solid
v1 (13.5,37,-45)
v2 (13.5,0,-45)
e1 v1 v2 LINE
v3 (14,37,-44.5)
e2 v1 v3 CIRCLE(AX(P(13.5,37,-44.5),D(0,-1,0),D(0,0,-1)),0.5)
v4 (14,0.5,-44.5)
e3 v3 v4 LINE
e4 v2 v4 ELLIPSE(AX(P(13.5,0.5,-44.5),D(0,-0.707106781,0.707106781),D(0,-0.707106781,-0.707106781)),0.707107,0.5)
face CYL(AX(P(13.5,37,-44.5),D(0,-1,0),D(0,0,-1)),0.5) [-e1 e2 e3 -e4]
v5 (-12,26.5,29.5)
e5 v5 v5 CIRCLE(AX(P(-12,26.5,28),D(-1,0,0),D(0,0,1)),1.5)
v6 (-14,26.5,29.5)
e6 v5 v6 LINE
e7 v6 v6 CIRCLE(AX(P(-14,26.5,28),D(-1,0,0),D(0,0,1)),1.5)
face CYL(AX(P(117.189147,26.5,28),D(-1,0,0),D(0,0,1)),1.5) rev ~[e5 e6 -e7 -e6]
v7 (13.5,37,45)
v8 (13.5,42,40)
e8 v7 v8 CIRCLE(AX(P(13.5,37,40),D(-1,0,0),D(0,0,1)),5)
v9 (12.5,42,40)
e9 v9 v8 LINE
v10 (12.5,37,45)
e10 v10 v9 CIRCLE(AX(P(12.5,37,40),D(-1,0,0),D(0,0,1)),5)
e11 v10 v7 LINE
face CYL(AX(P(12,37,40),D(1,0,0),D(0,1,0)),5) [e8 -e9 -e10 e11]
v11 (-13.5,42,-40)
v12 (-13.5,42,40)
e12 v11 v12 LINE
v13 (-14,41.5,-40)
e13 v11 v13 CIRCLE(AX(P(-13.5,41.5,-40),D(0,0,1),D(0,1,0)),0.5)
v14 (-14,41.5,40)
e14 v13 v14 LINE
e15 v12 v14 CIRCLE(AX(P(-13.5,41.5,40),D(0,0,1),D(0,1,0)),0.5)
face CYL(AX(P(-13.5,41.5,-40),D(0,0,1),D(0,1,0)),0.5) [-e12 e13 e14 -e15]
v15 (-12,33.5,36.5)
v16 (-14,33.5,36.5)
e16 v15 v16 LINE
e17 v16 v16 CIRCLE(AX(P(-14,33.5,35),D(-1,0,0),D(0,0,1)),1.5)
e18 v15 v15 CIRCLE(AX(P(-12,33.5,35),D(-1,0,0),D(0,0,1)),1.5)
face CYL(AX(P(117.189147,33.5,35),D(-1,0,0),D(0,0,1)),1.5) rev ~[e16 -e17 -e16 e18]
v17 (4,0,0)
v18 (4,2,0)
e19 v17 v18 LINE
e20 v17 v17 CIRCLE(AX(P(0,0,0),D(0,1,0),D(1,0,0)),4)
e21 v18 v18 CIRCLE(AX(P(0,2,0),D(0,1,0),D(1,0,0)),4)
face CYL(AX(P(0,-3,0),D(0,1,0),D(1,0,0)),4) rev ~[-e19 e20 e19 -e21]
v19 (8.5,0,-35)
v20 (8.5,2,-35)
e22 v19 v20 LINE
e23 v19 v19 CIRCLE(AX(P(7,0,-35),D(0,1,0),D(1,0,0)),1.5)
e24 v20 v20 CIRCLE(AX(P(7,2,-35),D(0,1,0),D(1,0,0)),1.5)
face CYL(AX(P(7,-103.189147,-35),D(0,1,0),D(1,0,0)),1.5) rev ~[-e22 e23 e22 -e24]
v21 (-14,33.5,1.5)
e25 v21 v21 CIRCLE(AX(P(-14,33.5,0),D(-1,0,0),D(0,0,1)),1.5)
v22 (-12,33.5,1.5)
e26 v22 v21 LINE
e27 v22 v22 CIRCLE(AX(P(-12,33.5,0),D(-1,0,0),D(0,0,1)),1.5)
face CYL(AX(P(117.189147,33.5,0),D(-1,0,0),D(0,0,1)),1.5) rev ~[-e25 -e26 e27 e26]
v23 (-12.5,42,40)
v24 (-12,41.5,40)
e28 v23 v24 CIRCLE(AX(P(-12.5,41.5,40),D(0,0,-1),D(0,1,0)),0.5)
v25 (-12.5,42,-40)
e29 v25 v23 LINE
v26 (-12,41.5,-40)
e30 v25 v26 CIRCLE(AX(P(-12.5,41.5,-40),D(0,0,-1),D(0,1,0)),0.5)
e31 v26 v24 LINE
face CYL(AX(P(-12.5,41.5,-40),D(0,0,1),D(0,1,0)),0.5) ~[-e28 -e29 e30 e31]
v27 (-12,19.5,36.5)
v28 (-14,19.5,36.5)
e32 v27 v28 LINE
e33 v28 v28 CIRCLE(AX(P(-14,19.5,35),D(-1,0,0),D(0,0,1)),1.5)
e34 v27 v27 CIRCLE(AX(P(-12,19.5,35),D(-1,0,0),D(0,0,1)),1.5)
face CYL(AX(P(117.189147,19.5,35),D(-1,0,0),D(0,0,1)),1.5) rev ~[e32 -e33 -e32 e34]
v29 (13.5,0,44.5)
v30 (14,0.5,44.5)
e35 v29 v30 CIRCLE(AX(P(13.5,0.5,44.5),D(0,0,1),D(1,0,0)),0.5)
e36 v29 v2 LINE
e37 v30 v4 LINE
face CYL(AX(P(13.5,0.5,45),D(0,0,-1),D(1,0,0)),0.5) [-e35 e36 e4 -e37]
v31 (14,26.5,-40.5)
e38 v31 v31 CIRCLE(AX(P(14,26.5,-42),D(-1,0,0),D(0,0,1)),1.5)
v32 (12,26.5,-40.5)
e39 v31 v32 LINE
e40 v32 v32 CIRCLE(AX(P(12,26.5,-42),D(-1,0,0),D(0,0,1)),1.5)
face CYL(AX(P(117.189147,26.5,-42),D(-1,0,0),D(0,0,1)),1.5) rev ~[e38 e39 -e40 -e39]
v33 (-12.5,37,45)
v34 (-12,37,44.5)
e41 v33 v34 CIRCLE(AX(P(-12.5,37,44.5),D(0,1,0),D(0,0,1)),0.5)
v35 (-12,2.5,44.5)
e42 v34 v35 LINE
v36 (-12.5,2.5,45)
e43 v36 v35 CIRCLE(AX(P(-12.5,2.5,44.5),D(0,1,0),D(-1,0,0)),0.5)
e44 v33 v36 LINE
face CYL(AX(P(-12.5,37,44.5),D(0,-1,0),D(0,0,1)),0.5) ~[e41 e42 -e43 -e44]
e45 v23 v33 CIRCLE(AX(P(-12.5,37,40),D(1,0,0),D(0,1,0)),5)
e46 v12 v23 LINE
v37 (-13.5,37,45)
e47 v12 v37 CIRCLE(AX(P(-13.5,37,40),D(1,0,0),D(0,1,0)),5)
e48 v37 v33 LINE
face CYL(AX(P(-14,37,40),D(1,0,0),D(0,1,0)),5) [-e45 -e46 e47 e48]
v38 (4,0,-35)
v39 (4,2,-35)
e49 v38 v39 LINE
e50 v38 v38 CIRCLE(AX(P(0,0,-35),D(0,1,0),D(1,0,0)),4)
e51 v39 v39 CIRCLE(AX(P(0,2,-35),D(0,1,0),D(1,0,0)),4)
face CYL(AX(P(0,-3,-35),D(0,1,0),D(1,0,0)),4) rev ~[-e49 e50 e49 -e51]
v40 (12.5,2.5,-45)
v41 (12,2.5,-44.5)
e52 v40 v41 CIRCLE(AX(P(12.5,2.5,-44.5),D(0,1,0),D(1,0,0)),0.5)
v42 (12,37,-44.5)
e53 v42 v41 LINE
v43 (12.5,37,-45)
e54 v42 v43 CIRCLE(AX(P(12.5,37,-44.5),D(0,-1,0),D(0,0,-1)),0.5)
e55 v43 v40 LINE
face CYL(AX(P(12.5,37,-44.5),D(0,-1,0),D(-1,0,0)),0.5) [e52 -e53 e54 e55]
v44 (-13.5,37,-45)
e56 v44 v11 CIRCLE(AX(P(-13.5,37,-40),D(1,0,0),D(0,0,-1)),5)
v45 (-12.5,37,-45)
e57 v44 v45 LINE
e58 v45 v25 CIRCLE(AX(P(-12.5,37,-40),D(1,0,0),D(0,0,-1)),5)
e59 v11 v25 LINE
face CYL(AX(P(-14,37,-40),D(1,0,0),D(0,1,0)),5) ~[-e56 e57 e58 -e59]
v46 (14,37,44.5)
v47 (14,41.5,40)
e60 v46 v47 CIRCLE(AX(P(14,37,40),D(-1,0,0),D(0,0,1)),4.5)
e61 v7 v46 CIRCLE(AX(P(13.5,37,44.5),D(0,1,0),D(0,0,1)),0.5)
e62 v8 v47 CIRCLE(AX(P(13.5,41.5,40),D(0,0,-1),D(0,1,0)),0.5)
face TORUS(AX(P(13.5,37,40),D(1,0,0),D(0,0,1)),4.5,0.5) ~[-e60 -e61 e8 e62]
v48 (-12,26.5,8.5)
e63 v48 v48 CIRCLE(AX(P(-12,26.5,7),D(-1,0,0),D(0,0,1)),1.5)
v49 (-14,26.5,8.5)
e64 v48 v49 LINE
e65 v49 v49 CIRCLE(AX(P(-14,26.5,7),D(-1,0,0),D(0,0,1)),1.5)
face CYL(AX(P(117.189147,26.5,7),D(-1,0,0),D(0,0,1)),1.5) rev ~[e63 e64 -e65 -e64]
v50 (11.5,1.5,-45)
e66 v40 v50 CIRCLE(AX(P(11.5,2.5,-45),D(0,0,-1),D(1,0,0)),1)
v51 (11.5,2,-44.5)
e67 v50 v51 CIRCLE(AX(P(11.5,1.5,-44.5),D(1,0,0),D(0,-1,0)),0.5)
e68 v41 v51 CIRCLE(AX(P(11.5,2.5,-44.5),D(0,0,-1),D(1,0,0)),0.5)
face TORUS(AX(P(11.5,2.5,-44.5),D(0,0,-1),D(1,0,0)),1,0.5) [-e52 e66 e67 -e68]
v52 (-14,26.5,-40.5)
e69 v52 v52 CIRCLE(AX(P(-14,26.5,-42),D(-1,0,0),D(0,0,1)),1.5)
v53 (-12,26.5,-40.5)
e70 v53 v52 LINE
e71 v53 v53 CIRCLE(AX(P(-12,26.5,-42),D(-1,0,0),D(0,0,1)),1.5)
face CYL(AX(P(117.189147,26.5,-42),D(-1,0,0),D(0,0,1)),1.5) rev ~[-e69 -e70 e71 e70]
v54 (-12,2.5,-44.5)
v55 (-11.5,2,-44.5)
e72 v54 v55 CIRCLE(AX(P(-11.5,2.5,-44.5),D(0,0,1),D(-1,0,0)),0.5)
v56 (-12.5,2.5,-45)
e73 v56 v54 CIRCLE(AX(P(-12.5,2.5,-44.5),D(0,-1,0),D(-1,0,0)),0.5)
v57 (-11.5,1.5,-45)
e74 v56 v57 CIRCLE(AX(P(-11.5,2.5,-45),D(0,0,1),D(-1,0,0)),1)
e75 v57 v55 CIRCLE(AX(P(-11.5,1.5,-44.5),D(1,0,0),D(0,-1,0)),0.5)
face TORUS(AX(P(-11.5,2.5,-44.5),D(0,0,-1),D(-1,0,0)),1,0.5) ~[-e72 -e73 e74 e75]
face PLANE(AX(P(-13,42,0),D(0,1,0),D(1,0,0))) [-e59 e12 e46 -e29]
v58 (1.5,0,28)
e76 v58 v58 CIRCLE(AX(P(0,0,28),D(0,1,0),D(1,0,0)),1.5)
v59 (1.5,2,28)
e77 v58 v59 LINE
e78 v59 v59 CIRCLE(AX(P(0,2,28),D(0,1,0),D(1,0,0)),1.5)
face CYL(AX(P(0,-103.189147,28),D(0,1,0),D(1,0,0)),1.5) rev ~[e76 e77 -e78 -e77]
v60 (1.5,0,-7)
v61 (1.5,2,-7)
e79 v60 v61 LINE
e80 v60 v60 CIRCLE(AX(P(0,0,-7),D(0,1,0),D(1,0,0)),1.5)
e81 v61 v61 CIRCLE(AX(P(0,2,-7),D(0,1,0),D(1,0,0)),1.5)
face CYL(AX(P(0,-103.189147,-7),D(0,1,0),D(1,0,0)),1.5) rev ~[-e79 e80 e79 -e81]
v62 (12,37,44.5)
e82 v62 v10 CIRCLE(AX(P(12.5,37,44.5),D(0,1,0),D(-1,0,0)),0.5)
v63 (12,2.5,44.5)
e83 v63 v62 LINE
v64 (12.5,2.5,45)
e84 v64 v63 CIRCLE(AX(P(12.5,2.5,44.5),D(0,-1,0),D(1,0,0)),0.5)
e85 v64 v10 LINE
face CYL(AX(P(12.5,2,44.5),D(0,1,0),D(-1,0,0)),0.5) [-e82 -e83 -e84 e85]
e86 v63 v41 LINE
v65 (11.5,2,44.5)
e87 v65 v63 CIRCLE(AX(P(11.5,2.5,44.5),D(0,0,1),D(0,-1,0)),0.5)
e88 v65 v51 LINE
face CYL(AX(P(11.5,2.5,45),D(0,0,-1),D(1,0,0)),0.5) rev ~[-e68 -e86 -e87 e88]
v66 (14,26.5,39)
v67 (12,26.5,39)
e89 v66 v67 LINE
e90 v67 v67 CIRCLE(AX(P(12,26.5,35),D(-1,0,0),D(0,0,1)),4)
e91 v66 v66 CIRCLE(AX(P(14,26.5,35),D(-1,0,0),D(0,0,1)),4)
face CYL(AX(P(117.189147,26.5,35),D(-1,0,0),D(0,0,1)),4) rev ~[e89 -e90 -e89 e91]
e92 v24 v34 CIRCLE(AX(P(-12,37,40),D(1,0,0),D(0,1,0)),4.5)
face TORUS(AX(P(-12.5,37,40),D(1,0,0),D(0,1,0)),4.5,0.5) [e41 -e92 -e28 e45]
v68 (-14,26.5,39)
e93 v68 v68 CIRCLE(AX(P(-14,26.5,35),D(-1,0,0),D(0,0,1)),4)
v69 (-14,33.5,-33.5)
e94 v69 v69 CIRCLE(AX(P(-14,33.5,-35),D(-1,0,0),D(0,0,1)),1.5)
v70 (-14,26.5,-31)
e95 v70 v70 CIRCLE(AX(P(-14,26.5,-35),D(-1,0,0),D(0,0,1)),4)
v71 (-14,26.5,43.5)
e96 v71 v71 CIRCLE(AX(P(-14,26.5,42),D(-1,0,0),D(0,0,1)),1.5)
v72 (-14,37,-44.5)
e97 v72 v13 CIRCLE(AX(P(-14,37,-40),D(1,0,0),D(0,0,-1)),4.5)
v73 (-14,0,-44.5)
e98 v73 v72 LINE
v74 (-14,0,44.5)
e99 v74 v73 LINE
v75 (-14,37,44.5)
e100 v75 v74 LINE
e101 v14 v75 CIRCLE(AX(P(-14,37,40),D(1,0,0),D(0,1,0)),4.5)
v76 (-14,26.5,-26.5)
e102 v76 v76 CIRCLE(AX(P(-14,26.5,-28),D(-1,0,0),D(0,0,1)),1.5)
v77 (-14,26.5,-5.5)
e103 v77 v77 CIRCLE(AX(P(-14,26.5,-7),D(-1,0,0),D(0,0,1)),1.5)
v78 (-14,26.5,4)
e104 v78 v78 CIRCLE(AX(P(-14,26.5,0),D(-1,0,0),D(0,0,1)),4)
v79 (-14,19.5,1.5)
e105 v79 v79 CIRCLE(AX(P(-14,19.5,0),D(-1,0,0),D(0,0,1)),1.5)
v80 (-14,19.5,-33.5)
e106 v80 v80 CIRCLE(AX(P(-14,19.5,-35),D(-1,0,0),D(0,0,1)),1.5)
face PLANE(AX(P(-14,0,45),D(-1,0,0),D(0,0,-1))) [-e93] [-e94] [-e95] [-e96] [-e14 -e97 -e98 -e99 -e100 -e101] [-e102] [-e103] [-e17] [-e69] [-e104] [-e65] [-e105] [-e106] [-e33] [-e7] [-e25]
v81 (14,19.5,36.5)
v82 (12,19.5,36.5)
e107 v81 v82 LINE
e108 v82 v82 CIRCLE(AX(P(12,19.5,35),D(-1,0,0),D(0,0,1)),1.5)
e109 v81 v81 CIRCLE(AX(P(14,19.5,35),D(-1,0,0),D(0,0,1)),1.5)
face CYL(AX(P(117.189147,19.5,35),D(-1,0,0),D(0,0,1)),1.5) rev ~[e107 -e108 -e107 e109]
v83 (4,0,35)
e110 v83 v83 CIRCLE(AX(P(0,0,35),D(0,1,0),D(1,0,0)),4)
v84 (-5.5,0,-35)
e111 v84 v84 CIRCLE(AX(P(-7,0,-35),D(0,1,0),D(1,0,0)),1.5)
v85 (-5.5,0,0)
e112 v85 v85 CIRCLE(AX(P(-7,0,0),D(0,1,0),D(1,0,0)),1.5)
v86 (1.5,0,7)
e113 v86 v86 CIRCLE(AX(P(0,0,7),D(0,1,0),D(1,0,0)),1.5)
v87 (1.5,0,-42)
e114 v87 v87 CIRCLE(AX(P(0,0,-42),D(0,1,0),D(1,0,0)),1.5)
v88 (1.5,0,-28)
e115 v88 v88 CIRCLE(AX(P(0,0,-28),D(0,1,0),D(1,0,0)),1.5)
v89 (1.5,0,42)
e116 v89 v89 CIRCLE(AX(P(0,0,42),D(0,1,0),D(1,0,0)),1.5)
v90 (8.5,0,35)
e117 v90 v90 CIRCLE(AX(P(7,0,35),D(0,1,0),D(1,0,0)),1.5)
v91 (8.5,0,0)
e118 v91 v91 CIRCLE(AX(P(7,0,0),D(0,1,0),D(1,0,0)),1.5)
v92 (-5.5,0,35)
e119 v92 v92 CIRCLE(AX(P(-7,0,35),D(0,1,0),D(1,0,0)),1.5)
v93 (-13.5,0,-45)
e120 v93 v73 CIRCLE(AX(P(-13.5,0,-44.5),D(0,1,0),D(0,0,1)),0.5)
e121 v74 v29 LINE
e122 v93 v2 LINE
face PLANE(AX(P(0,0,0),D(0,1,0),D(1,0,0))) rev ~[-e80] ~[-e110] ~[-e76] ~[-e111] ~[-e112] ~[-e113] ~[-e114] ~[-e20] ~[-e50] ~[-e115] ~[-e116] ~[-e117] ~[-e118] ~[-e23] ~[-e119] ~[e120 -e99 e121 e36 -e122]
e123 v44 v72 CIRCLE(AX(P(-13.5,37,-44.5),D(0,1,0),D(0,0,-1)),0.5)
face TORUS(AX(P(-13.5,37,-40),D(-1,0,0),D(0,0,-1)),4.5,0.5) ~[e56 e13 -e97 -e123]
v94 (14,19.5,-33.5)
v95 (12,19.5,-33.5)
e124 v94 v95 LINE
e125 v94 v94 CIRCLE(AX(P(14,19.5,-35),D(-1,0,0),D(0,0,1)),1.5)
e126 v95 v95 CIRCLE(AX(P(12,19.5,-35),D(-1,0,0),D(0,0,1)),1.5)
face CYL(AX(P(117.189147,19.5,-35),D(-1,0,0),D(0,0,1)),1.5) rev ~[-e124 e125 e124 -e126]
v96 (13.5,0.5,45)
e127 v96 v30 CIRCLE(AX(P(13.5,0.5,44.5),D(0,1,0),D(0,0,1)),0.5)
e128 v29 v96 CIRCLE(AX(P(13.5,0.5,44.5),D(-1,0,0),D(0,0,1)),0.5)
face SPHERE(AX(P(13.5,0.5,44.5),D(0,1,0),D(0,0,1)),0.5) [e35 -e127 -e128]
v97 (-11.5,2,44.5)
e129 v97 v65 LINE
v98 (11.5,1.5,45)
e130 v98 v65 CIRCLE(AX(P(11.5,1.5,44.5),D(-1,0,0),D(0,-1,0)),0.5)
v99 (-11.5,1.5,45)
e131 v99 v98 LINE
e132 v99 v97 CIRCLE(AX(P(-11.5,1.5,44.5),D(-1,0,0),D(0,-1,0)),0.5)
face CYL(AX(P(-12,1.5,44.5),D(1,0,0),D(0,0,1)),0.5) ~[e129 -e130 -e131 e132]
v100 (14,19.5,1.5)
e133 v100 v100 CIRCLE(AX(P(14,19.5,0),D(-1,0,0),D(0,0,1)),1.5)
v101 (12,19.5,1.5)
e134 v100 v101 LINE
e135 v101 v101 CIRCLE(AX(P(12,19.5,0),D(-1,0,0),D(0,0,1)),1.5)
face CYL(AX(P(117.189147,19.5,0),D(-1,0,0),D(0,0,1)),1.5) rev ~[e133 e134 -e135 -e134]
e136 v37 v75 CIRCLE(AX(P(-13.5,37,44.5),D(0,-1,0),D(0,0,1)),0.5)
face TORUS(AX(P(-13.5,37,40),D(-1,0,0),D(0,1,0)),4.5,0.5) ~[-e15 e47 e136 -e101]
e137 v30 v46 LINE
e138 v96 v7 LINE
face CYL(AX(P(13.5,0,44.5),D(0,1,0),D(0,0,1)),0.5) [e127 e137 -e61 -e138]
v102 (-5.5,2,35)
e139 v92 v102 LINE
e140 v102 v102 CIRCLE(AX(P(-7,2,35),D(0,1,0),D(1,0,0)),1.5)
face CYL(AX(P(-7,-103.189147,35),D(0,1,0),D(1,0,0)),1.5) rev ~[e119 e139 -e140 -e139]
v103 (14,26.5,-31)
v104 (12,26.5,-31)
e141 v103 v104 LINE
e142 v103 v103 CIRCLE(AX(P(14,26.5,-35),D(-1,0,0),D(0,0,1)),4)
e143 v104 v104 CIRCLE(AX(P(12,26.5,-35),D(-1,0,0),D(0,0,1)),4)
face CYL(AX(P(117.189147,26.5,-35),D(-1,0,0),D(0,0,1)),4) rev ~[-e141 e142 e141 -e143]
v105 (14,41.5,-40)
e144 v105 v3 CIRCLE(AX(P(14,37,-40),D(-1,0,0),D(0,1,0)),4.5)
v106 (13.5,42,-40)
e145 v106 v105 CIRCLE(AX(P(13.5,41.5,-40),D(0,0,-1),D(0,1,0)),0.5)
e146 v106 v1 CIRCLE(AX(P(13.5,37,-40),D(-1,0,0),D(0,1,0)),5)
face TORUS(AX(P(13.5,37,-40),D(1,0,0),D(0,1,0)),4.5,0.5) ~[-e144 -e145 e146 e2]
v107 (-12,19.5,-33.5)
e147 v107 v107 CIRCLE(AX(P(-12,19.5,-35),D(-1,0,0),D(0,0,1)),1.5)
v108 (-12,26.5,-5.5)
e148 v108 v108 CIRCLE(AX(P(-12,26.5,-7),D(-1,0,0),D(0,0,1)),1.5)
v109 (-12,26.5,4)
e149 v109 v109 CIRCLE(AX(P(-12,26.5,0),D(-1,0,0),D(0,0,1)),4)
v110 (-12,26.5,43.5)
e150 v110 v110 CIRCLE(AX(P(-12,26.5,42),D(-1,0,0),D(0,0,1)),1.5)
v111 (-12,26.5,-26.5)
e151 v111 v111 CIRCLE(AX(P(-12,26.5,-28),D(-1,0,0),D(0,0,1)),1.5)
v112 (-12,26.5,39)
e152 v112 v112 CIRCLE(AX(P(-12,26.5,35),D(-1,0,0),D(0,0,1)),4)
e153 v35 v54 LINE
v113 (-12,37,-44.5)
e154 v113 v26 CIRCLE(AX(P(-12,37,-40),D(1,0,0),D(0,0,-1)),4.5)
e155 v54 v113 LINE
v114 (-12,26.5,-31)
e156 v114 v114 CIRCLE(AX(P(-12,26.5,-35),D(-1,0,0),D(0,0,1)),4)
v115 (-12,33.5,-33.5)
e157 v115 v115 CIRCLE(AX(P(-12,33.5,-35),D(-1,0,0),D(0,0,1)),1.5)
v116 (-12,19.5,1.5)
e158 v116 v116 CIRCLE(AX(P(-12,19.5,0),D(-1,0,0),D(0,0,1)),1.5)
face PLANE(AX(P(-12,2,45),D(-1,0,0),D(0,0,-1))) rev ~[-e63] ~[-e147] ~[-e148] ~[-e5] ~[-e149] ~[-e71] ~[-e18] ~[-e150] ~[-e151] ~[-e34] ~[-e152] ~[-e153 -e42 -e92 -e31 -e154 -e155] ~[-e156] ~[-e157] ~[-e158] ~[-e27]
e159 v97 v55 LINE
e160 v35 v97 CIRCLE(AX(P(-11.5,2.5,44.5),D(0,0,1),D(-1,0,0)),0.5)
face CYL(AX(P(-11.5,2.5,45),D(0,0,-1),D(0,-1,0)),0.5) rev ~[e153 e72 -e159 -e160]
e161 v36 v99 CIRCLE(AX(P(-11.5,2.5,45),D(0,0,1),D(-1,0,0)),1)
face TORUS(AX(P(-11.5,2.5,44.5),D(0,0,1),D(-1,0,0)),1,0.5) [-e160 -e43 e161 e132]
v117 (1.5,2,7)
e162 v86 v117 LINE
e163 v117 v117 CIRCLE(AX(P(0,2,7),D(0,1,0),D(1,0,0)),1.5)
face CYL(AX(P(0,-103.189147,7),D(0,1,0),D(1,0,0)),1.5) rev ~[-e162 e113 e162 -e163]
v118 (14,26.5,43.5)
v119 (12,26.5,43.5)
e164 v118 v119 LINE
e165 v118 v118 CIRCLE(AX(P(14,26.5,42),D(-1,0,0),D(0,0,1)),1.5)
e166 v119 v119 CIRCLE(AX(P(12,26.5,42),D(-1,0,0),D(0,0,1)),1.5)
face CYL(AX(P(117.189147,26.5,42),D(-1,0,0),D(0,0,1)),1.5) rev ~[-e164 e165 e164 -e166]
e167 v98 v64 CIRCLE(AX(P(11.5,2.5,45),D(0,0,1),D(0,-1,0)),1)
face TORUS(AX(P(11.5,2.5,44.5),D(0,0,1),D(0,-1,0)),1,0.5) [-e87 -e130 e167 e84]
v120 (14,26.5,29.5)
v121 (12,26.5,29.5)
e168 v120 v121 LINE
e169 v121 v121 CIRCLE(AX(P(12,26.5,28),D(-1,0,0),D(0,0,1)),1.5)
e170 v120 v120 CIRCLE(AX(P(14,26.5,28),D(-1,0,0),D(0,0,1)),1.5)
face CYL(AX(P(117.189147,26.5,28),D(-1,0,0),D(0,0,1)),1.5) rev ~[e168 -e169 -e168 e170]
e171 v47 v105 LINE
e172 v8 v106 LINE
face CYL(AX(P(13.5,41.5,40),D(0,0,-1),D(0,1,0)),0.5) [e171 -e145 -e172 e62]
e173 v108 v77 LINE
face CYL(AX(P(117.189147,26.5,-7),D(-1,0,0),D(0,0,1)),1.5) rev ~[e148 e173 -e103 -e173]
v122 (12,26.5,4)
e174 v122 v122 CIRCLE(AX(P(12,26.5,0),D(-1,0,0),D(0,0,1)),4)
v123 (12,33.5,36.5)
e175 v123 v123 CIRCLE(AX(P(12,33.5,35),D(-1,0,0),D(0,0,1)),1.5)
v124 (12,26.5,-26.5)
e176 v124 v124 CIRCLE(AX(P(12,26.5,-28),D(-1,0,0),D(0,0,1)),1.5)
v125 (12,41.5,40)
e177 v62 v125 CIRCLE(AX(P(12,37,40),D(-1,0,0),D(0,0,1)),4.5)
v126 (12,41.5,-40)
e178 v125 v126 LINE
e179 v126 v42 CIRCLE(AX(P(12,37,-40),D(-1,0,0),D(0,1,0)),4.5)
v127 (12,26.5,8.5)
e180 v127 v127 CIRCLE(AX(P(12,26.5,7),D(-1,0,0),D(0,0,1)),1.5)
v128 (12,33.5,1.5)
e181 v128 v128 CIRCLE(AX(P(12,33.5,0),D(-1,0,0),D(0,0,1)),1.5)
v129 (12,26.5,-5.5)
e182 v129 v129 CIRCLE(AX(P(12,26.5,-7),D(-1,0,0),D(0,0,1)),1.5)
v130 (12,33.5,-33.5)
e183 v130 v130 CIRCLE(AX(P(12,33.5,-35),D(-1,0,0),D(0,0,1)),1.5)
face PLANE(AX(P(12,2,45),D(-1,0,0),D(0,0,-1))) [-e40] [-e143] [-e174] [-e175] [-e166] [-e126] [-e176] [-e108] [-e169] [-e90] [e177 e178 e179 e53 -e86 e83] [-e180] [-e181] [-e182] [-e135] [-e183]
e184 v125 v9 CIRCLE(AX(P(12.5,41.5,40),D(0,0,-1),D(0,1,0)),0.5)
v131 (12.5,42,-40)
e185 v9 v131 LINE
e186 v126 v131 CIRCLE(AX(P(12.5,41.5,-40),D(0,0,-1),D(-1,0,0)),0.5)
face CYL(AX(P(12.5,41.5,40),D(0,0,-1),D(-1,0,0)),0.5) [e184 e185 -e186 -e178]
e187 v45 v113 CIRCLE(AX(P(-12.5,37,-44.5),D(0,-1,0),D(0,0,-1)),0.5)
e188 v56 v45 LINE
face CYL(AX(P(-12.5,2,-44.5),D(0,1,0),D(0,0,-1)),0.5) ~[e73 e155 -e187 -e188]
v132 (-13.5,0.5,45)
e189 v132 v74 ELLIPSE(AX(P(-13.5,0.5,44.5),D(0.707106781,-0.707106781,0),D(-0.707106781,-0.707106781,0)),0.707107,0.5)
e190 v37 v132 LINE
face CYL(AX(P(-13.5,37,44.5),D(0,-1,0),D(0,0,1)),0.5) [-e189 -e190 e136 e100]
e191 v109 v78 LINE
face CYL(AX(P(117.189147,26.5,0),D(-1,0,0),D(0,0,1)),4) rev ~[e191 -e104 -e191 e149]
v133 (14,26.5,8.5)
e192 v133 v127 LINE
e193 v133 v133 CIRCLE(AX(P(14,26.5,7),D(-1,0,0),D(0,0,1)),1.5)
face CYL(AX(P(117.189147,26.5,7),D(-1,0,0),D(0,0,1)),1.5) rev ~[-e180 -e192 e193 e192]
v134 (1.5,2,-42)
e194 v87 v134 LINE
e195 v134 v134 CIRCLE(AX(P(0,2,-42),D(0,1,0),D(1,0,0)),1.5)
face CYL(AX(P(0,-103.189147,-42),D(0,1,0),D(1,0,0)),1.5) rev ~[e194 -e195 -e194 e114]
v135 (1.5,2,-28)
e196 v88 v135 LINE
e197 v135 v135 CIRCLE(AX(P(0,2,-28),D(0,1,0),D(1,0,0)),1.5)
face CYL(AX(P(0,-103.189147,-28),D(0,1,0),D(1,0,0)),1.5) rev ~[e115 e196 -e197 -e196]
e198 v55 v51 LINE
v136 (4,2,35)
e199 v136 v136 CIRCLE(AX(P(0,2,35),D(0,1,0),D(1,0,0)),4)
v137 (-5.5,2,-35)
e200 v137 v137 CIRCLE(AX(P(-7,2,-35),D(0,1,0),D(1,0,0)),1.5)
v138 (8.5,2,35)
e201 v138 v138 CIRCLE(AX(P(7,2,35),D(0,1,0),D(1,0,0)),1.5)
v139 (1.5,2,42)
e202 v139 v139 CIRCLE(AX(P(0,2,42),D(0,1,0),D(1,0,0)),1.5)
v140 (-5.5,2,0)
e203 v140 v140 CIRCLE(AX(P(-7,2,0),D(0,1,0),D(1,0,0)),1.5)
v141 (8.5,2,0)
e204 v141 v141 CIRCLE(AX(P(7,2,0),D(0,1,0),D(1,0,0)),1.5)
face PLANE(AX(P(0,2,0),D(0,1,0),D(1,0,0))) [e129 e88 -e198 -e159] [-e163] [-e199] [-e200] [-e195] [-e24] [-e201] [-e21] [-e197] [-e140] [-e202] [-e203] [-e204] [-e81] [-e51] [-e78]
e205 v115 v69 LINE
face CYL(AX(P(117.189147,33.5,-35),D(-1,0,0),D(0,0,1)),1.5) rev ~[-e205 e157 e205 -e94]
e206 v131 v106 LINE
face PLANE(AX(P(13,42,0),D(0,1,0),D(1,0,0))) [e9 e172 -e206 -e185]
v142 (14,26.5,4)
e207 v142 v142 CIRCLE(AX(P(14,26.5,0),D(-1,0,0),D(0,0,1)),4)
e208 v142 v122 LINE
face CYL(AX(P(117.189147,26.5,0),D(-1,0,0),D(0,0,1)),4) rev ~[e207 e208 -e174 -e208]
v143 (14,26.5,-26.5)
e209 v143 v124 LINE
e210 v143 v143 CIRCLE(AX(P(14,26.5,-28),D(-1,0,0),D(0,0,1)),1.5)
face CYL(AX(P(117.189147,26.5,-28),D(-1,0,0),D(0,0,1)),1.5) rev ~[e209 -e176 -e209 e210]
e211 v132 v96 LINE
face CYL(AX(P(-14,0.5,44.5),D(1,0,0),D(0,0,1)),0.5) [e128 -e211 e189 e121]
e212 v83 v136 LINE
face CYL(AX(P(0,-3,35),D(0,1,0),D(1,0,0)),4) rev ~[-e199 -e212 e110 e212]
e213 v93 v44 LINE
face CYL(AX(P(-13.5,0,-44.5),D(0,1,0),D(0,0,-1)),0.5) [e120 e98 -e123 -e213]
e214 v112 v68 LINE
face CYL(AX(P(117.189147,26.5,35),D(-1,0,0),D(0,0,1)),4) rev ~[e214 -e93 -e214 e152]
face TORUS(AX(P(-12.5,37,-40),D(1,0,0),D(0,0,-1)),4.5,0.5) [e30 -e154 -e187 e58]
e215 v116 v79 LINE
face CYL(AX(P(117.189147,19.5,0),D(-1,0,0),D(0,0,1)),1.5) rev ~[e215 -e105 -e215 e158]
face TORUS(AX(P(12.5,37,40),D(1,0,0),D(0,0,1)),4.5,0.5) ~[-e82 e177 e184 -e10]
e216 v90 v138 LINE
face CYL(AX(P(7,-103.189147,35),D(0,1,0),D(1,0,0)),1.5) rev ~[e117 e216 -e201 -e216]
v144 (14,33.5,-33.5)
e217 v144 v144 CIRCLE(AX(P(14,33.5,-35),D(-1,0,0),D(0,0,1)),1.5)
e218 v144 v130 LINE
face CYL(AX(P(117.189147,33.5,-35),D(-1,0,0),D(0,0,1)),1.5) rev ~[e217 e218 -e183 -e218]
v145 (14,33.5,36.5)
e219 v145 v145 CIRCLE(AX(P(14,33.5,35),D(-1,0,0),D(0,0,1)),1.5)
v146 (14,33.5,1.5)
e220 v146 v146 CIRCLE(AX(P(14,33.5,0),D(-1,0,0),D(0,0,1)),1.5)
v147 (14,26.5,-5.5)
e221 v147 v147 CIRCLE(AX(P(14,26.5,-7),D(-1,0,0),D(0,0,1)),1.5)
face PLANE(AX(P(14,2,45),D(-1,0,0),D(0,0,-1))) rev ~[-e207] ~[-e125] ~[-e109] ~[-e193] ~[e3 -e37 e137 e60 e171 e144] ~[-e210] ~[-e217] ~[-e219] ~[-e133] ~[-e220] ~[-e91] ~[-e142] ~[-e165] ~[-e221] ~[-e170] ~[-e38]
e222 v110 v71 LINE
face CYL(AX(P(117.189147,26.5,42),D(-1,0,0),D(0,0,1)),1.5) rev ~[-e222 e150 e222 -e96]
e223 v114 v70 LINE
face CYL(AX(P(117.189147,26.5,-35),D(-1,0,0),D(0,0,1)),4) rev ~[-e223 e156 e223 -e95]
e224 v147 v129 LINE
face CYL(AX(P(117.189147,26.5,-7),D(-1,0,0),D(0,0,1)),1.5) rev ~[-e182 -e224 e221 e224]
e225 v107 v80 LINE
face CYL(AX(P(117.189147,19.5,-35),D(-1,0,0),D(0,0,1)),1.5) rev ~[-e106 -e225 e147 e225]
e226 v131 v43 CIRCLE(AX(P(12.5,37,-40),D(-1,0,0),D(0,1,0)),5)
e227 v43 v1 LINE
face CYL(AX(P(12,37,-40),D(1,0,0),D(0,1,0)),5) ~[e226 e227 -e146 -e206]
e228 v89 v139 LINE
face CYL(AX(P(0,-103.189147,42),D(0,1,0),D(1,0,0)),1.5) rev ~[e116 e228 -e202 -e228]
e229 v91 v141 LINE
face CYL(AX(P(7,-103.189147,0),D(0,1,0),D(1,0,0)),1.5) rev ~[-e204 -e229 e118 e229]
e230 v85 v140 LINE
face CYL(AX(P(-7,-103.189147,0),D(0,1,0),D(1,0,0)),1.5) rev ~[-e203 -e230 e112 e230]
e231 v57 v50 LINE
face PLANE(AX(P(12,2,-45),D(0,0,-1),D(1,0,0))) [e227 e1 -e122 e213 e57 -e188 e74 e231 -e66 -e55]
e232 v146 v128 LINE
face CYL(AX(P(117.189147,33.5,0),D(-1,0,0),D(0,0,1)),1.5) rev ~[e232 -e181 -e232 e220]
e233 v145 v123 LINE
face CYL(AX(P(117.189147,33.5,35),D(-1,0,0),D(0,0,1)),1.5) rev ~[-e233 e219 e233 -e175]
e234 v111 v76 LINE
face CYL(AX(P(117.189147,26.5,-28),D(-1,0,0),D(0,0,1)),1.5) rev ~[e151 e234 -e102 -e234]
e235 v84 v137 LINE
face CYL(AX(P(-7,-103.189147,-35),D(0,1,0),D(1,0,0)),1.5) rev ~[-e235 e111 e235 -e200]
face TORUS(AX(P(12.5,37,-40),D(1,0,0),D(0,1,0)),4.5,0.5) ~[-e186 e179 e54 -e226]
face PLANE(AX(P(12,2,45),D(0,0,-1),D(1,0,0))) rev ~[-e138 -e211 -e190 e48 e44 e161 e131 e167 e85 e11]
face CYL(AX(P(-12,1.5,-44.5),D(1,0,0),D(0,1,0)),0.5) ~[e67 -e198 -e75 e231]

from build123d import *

# Parameters (mm, degrees)
SKETCH1_W                 = 28
SKETCH1_H                 = 90
BOSS_EXTRUDE1_DEPTH       = 2
SKETCH2_W                 = 2
SKETCH2_H                 = 90
BOSS_EXTRUDE2_DEPTH       = 40
FILLET2_R                 = 5
FILLET3_R                 = 0.5
F_8_0MM_DOWEL_HOLE1_D     = 8
F_3_0MM_DOWEL_HOLE2_D     = 3
F_8_0MM_DOWEL_HOLE2_D     = 8
F_8_0MM_DOWEL_HOLE2_DEPTH = 3
F_8_0MM_DOWEL_HOLE2_TIP   = 2.403442476
F_3_0MM_DOWEL_HOLE3_D     = 3


with BuildPart() as part:
    # Sketch1 → Boss-Extrude1 (new body)
    with BuildSketch(Plane(origin=(0, 0, 0), x_dir=(1, 0, 0), z_dir=(0, 1, 0))):
        Rectangle(SKETCH1_W, SKETCH1_H)
    extrude(amount=BOSS_EXTRUDE1_DEPTH)

    # Sketch2 → Boss-Extrude2 (add)
    with BuildSketch(Plane(origin=(0, 2, 0), x_dir=(1, 0, 0), z_dir=(0, 1, 0))):
        with Locations((13, 0)):
            Rectangle(SKETCH2_W, SKETCH2_H)
        with Locations((-13, 0)):
            Rectangle(SKETCH2_W, SKETCH2_H)
    extrude(amount=BOSS_EXTRUDE2_DEPTH)

    # Fillet2
    fillet2_edges = [part.edges().sort_by_distance(p)[0] for p in [
        (13, 42, -45),
        (13, 42, 45),
        (-13, 42, 45),
        (-13, 42, -45),
    ]]
    fillet(fillet2_edges, radius=FILLET2_R)

    # Fillet3
    fillet3_edges = [part.edges().sort_by_distance(p)[0] for p in [
        (0, 2, -45),
        (12, 2, 0),
        (0, 2, 45),
        (-12, 2, 0),
        (14, 42, 0),
        (12, 42, 0),
        (12, 19.5, 45),
        (12, 19.5, -45),
        (12, 40.535533906, 43.535533906),
        (12, 40.535533906, -43.535533906),
        (-14, 18.5, -45),
        (-12, 19.5, -45),
        (14, 18.5, -45),
        (14, 18.5, 45),
        (14, 40.535533906, 43.535533906),
        (14, 40.535533906, -43.535533906),
        (-14, 42, 0),
        (0, 0, 45),
        (-12, 42, 0),
        (-14, 18.5, 45),
        (-14, 40.535533906, 43.535533906),
        (-14, 40.535533906, -43.535533906),
        (-12, 19.5, 45),
        (-12, 40.535533906, 43.535533906),
        (-12, 40.535533906, -43.535533906),
        (14, 0, 0),
    ]]
    fillet(fillet3_edges, radius=FILLET3_R)

    # Ø8.0mm Dowel Hole1 (through all)
    with Locations(Plane(origin=(14, 0, 0), x_dir=(0, 0, -1), z_dir=(1, 0, 0))):
        with Locations((0, 26.5), (-35, 26.5), (35, 26.5)):
            Hole(F_8_0MM_DOWEL_HOLE1_D / 2)

    # Ø3.0mm Dowel Hole2 (through all)
    with Locations(Plane(origin=(14, 0, 0), x_dir=(0, 0, -1), z_dir=(1, 0, 0))):
        with Locations((-35, 33.5), (-28, 26.5), (-35, 19.5), (-42, 26.5), (-35, 26.5), (0, 33.5), (7, 26.5), (0, 19.5), (-7, 26.5), (35, 33.5), (42, 26.5), (35, 19.5), (28, 26.5), (0, 26.5), (35, 26.5)):
            Hole(F_3_0MM_DOWEL_HOLE2_D / 2)

    # Ø8.0mm Dowel Hole2
    with Locations(Plane(origin=(0, 0, 0), x_dir=(-1, 0, 0), z_dir=(0, -1, 0))):
        with Locations((0, 0), (0, 35), (0, -35)):
            Hole(F_8_0MM_DOWEL_HOLE2_D / 2, depth=F_8_0MM_DOWEL_HOLE2_DEPTH)
            with Locations((0, 0, -(F_8_0MM_DOWEL_HOLE2_DEPTH + F_8_0MM_DOWEL_HOLE2_TIP / 2))):  # 118° drill point
                Cone(0, F_8_0MM_DOWEL_HOLE2_D / 2, F_8_0MM_DOWEL_HOLE2_TIP, mode=Mode.SUBTRACT)

    # Ø3.0mm Dowel Hole3 (through all)
    with Locations(Plane(origin=(0, 0, 0), x_dir=(-1, 0, 0), z_dir=(0, -1, 0))):
        with Locations((0, -7), (0, -35), (0, -28), (0, 35), (0, 28), (7, 0), (0, 7), (-7, 0), (0, 0), (7, -35), (0, -42), (-7, -35), (-7, 35), (0, 42), (7, 35)):
            Hole(F_3_0MM_DOWEL_HOLE3_D / 2)


solid = part.part
